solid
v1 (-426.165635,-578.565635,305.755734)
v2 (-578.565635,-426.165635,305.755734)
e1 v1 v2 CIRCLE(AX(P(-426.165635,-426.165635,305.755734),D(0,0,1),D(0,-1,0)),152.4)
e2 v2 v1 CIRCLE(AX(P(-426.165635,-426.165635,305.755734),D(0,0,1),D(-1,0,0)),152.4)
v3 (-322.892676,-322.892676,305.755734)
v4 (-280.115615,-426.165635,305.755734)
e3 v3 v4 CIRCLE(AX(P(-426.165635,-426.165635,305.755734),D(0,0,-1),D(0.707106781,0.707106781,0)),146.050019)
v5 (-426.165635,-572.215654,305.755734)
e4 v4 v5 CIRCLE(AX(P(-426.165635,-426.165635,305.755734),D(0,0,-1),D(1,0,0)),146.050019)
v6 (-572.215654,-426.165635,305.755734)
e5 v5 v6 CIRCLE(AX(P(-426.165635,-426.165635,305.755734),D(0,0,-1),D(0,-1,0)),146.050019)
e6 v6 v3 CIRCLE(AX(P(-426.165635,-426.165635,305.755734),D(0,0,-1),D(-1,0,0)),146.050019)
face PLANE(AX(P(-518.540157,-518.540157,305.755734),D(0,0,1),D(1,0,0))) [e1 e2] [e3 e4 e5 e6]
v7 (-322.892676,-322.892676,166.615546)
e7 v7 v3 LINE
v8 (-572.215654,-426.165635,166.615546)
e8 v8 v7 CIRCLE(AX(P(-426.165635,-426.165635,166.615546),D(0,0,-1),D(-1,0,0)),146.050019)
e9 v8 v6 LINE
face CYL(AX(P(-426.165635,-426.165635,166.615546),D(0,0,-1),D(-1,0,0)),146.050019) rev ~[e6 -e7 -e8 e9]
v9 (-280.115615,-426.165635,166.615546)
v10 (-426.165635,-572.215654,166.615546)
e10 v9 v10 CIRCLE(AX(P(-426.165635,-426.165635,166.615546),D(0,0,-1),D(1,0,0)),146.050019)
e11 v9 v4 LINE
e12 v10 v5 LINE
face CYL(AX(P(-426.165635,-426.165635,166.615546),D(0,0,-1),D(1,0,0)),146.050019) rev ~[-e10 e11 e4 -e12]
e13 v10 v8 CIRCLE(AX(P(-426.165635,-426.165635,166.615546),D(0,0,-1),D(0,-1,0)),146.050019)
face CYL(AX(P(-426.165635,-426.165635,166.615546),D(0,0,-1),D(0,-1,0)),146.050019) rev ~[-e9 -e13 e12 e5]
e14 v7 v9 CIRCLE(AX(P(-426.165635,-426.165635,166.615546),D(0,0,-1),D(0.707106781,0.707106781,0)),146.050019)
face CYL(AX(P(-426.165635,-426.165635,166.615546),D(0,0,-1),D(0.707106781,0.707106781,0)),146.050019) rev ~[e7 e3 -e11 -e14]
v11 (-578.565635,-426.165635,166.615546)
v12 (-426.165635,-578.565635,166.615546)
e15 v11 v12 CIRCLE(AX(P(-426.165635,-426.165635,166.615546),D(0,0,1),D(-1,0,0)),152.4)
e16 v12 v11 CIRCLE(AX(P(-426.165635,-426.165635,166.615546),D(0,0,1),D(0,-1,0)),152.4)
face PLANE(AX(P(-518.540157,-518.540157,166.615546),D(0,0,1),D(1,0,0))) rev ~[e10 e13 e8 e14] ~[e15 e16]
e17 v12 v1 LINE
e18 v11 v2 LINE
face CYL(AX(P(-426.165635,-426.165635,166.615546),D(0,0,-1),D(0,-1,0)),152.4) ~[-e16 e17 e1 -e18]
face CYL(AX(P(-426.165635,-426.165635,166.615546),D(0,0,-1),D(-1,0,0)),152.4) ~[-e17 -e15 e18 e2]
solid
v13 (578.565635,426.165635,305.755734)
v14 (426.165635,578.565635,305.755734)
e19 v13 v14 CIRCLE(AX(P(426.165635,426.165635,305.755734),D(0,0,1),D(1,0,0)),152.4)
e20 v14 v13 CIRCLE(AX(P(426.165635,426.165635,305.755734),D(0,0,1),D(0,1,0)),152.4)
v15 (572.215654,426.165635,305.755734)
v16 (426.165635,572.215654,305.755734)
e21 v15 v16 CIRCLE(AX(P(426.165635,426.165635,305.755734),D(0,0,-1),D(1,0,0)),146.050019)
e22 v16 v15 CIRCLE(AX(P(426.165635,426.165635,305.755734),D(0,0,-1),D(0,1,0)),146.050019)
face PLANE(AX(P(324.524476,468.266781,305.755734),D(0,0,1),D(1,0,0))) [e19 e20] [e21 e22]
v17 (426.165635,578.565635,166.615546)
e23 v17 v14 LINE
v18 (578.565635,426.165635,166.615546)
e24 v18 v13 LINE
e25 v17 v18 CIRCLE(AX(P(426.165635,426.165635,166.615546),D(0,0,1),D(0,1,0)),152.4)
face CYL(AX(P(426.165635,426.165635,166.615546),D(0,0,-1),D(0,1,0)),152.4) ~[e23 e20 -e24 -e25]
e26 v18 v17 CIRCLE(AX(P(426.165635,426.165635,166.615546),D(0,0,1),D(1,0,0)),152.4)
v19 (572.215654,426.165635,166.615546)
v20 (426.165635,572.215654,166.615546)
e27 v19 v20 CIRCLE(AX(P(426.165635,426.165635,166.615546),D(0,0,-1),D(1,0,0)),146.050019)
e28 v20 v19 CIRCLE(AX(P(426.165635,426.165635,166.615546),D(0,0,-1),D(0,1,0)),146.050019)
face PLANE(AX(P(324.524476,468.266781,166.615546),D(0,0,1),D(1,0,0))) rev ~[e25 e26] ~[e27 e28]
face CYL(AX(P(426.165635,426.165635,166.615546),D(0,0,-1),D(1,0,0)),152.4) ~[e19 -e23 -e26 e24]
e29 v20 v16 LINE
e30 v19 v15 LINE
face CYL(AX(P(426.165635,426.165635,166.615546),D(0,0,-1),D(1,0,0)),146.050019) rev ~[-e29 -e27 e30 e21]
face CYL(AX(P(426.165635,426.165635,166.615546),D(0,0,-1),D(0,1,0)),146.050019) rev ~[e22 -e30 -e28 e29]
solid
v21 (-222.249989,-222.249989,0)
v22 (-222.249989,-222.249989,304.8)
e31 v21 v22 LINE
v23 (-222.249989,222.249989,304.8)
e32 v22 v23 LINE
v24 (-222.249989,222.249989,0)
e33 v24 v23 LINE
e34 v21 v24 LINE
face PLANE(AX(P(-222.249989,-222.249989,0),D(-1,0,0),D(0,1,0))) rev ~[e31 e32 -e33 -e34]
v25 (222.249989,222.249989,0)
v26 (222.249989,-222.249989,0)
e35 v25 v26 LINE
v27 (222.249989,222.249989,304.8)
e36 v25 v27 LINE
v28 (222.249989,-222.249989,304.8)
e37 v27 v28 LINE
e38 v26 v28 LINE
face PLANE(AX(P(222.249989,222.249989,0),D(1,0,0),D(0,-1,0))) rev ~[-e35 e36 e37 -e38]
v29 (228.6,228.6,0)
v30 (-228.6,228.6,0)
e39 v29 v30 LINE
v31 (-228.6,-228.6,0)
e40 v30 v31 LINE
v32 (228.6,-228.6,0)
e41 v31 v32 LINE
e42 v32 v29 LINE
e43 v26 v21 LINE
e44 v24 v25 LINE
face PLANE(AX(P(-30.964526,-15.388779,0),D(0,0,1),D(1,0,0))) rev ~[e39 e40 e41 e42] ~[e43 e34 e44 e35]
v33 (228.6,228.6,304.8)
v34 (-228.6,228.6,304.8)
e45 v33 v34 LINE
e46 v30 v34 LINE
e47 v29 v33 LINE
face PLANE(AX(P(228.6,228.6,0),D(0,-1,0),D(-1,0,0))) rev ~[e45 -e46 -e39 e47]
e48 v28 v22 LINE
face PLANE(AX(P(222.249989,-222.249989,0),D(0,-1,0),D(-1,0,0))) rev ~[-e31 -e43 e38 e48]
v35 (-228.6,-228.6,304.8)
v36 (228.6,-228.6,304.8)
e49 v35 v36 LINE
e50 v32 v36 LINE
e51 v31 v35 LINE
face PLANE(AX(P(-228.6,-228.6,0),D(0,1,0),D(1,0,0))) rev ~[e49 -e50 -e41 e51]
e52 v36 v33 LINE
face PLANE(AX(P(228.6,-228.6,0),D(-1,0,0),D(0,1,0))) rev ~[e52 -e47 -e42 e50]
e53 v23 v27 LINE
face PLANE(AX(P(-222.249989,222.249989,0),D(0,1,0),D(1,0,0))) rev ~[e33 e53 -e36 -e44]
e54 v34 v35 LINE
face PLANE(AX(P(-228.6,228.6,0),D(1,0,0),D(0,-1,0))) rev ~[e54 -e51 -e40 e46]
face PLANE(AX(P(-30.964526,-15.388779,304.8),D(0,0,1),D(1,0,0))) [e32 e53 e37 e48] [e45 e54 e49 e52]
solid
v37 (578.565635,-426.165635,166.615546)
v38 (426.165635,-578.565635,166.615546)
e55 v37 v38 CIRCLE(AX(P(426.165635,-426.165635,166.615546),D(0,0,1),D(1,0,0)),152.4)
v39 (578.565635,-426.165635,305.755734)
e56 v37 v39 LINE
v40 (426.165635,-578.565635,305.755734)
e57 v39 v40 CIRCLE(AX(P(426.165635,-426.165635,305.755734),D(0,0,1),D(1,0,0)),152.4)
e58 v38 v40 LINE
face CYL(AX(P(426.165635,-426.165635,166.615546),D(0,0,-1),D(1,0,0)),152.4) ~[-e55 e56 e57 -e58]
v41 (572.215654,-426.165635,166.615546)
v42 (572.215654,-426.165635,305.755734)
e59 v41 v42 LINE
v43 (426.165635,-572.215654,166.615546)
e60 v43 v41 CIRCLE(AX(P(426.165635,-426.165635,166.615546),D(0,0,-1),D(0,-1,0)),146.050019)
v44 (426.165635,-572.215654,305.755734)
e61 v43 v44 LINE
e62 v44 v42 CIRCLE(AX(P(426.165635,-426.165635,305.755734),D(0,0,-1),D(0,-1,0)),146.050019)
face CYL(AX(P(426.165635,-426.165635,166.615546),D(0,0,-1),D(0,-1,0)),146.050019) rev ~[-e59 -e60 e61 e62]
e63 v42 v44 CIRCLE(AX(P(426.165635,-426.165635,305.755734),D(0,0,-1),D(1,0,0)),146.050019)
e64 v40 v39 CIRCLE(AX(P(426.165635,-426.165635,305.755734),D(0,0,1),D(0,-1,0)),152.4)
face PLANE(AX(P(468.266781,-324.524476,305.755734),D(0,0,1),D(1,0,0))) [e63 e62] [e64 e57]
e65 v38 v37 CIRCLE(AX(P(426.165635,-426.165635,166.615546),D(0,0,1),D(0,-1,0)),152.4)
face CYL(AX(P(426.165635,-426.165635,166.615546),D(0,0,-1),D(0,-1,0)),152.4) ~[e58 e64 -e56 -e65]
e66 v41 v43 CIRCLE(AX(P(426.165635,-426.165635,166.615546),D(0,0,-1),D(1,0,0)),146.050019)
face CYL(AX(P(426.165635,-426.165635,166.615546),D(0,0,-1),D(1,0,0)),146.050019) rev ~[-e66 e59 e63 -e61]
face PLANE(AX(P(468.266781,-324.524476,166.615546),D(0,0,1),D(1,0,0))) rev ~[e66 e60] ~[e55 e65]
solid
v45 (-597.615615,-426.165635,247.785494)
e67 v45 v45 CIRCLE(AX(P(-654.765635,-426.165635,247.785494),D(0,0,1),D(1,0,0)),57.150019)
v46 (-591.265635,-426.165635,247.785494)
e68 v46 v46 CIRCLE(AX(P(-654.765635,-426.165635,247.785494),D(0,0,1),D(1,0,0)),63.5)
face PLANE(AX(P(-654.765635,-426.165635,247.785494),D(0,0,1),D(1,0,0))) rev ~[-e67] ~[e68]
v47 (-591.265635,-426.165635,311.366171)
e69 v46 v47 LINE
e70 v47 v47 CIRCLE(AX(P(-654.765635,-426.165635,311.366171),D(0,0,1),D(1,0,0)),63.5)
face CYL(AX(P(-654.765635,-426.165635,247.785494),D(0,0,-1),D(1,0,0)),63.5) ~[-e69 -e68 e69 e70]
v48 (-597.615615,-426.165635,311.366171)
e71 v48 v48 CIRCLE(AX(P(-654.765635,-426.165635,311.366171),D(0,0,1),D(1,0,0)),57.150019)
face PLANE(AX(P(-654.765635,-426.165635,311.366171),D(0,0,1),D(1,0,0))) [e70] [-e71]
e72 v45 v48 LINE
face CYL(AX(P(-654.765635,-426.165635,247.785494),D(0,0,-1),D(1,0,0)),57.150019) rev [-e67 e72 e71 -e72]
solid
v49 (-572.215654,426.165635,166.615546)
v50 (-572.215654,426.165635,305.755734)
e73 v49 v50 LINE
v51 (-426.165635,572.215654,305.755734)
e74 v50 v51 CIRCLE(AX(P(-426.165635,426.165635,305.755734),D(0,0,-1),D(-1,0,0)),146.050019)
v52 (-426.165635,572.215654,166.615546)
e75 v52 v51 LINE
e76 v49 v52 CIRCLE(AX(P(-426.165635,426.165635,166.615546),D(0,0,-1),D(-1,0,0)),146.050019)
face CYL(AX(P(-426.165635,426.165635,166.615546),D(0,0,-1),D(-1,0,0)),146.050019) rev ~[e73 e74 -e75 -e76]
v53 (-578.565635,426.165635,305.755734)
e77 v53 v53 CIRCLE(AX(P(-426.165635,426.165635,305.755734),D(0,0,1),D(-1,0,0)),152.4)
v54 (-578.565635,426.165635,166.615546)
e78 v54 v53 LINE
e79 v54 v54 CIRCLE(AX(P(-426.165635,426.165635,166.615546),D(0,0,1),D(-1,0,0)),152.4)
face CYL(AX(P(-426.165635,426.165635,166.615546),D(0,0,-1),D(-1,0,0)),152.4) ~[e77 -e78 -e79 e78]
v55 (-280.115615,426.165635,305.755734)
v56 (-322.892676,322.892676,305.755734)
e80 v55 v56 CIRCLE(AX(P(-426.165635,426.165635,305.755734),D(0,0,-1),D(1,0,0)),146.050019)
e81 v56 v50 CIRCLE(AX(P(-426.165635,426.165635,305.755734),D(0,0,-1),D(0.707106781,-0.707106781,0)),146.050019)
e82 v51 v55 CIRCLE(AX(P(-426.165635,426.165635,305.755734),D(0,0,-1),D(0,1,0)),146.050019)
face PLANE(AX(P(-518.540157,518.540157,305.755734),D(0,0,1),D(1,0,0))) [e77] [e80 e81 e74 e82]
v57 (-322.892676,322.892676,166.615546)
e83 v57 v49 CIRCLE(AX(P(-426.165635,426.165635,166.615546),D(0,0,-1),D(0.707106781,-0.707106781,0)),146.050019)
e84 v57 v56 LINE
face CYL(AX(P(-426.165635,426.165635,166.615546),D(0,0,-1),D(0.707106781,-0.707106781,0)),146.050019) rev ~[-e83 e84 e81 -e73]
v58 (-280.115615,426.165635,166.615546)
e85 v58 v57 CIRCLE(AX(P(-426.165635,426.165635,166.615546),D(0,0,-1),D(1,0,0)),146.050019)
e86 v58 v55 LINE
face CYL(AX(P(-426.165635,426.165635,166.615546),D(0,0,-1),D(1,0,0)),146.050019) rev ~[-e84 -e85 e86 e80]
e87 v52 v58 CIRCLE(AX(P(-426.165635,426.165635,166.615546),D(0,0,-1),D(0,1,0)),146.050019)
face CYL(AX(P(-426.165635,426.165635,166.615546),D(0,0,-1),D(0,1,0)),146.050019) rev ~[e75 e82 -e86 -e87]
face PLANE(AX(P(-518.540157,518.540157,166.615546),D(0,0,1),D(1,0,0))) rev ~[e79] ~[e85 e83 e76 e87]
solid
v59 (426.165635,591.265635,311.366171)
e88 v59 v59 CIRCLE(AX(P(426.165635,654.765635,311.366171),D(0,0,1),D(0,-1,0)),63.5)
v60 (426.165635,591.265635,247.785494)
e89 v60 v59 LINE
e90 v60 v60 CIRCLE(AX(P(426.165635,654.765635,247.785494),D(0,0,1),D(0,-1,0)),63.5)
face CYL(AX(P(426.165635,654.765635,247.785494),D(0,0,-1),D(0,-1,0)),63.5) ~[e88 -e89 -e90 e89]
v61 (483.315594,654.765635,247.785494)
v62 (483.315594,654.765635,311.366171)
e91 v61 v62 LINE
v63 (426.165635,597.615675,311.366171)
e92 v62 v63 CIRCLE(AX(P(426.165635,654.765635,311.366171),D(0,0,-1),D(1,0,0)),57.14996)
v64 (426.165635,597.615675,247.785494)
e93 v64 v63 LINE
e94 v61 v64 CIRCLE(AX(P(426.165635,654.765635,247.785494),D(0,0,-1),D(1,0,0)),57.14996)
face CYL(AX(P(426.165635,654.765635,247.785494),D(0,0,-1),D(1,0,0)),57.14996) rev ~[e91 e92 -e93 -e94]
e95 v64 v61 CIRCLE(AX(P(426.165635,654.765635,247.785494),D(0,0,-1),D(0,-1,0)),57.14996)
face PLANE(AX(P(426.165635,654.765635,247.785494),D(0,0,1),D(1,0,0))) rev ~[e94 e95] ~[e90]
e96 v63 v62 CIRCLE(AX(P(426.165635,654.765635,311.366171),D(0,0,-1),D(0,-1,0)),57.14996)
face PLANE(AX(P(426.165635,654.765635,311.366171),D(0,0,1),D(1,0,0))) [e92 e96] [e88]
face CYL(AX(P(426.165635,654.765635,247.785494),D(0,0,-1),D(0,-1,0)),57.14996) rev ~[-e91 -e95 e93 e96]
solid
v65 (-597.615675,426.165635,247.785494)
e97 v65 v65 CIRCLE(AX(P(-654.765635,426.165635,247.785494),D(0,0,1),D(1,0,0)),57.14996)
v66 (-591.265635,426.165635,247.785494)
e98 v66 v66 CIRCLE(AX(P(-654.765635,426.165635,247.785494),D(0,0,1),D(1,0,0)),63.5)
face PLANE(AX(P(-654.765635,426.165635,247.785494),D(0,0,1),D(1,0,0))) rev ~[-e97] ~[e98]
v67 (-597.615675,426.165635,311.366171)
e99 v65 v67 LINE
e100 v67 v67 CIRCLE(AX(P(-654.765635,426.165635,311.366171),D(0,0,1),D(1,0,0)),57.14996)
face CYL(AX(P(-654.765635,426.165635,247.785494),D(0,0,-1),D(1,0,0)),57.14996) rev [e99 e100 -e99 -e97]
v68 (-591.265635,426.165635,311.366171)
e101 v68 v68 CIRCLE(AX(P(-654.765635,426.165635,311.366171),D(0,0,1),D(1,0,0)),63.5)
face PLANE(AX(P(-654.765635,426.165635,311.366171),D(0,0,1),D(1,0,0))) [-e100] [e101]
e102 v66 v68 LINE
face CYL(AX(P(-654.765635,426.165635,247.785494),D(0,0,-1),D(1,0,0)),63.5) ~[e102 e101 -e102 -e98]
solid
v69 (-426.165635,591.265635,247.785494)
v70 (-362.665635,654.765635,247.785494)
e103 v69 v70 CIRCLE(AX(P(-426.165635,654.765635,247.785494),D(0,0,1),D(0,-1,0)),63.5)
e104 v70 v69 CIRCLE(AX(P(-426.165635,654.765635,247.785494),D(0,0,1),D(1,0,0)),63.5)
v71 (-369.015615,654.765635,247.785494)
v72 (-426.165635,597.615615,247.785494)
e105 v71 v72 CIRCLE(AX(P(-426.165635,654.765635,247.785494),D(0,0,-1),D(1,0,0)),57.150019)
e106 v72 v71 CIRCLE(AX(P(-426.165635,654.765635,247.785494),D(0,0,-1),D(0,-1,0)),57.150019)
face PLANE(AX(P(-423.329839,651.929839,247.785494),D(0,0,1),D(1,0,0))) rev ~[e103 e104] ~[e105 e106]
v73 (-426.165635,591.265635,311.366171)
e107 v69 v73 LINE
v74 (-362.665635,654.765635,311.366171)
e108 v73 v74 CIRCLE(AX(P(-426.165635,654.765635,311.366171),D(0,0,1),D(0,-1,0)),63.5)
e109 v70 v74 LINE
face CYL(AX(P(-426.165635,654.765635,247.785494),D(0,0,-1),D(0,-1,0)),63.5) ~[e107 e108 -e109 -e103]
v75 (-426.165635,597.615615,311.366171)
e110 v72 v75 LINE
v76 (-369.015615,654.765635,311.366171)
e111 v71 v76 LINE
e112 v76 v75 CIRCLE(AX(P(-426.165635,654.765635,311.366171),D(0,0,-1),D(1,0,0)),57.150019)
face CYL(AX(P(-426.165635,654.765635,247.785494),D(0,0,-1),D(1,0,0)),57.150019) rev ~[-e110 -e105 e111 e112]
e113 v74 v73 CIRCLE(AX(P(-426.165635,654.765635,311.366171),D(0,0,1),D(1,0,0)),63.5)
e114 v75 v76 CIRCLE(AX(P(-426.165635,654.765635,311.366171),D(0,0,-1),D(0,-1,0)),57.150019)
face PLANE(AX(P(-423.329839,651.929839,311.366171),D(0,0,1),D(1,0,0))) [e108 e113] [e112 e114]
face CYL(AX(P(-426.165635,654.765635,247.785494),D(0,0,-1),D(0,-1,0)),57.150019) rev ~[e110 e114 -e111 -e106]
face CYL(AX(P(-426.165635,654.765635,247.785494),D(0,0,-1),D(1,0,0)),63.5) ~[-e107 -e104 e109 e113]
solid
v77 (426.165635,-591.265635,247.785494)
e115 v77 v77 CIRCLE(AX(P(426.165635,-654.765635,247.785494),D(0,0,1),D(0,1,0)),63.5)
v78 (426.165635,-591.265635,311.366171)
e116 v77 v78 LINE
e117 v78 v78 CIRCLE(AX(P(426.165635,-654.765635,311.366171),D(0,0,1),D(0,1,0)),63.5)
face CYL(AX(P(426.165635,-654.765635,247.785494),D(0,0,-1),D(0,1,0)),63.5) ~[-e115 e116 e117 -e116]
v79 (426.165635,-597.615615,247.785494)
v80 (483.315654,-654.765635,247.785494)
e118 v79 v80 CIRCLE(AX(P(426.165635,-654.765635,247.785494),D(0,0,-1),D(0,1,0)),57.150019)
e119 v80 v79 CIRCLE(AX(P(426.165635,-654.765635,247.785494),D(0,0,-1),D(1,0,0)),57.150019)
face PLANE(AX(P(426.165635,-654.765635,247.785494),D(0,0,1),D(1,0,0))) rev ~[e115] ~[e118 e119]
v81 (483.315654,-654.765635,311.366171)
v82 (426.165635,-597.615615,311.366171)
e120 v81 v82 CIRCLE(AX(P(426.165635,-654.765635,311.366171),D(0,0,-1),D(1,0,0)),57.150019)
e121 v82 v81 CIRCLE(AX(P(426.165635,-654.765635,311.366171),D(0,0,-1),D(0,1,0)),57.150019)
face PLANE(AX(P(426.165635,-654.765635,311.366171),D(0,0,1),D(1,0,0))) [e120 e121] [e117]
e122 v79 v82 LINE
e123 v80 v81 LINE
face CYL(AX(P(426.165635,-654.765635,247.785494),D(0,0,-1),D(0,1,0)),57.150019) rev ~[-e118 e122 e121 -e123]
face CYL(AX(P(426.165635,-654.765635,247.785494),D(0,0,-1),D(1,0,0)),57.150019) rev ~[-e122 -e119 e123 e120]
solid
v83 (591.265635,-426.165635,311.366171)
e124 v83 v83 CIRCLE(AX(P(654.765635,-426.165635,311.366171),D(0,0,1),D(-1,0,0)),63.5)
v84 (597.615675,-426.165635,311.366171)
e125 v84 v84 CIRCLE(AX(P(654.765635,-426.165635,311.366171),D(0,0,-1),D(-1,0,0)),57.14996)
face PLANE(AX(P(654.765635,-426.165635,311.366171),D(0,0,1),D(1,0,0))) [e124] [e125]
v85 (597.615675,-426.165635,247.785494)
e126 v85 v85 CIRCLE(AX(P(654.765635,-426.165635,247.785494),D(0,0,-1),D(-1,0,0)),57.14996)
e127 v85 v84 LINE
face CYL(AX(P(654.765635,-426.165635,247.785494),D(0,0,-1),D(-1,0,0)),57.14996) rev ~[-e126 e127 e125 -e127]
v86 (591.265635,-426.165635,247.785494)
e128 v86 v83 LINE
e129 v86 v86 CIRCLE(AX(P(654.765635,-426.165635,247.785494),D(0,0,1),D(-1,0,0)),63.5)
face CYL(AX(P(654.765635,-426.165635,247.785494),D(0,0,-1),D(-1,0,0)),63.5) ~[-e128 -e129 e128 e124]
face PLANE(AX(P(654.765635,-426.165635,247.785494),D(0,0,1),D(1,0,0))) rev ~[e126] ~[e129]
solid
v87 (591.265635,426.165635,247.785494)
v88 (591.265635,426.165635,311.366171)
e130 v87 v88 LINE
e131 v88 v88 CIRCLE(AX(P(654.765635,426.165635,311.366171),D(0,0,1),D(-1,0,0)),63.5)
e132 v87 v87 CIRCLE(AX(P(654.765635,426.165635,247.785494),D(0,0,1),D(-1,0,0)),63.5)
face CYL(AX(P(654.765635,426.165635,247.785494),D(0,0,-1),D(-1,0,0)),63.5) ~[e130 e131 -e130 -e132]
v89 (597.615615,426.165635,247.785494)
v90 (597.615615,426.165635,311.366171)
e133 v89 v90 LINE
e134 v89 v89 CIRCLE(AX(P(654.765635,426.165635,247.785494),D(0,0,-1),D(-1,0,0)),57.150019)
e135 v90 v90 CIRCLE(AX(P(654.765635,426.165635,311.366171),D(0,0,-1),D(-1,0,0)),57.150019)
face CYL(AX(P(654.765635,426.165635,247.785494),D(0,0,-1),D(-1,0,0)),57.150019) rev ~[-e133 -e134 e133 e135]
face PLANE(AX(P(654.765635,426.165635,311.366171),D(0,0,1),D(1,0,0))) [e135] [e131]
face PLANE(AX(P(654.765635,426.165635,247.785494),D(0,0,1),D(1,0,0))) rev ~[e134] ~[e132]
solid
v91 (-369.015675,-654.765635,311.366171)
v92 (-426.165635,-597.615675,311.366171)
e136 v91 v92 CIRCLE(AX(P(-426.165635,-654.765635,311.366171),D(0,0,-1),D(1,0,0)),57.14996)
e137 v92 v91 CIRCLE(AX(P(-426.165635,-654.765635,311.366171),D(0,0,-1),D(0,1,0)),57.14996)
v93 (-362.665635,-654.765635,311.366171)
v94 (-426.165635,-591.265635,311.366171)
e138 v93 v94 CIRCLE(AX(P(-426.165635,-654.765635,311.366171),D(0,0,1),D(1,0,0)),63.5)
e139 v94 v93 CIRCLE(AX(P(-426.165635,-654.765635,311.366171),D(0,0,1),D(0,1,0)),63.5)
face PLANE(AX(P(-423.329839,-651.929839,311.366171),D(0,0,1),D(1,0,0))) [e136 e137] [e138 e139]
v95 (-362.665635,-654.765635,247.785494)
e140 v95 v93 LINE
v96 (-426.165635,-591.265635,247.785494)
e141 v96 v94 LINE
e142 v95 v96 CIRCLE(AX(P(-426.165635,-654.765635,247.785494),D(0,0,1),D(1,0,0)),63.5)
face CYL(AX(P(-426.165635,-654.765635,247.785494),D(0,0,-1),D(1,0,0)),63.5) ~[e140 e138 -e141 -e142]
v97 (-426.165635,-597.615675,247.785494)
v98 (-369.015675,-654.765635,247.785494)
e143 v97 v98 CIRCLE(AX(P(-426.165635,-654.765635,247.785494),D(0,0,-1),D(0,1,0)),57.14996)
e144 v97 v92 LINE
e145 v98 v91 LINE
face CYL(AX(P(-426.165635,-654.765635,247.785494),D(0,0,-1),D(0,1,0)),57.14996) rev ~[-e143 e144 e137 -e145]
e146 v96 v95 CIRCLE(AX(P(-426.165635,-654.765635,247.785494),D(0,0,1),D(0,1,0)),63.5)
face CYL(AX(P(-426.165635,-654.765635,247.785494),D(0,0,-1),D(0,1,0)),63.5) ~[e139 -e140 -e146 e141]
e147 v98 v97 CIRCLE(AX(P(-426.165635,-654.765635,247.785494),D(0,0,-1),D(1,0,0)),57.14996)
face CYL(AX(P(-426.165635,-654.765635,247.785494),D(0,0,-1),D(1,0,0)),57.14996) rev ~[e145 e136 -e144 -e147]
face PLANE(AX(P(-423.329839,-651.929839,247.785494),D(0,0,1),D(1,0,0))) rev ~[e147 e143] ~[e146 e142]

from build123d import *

# Parameters (mm, degrees)
F1_DEPTH = 304.8
F2_START = 166.6155457497
F2_DEPTH = 139.140188694
F3_START = 247.7854937315
F3_DEPTH = 63.5806769133
F0_R     = 63.5
F0_R_2   = 57.1499595642
F0_R_3   = 57.1500191689


with BuildPart() as f1:
    # F0 (on Top) → F1 (new body)
    with BuildSketch(Plane.XY):
        Polygon((228.6, 0), (222.2499893665, 0), (222.2499893665, -222.2499893665), (-222.2499893665, -222.2499893665), (-222.2499893665, 222.2499893665), (222.2499893665, 222.2499893665), (228.6, 228.6), (-228.6, 228.6), (-228.6, -228.6), (228.6, -228.6), align=None)
        Polygon((222.2499893665, 222.2499893665), (222.2499893665, 0), (228.6, 0), (228.6, 228.6), align=None)
    extrude(amount=F1_DEPTH)


with BuildPart() as f2:
    # F0 (on Top) → F2 (new body)
    with BuildSketch(Plane.XY.offset(F2_START)):
        with BuildLine():
            ThreePointArc((-426.1656346635, 578.5656346635), (-533.9287081164, 533.9287081164), (-578.5656346635, 426.1656346635))
            Line((-578.5656346635, 426.1656346635), (-572.2156538324, 426.1656346635))
            ThreePointArc((-572.2156538324, 426.1656346635), (-529.4385936102, 529.4385936102), (-426.1656346635, 572.2156538324))
            Line((-426.1656346635, 572.2156538324), (-426.1656346635, 578.5656346635))
        make_face()
        with BuildLine():
            Line((-322.8926757168, 322.8926757168), (-318.4025612107, 318.4025612107))
            ThreePointArc((-318.4025612107, 318.4025612107), (-285.3663939088, 367.8446795711), (-273.7656346635, 426.1656346635))
            ThreePointArc((-273.7656346635, 426.1656346635), (-318.4025612107, 533.9287081164), (-426.1656346635, 578.5656346635))
            Line((-426.1656346635, 578.5656346635), (-426.1656346635, 572.2156538324))
            ThreePointArc((-426.1656346635, 572.2156538324), (-322.8926757168, 529.4385936102), (-280.1156154947, 426.1656346635))
            ThreePointArc((-280.1156154947, 426.1656346635), (-291.2330112305, 370.274712031), (-322.8926757168, 322.8926757168))
        make_face()
        with BuildLine():
            ThreePointArc((-578.5656346635, 426.1656346635), (-484.486589756, 285.3663939088), (-318.4025612107, 318.4025612107))
            Line((-318.4025612107, 318.4025612107), (-322.8926757168, 322.8926757168))
            ThreePointArc((-322.8926757168, 322.8926757168), (-482.056557296, 291.2330112305), (-572.2156538324, 426.1656346635))
            Line((-572.2156538324, 426.1656346635), (-578.5656346635, 426.1656346635))
        make_face()
    extrude(amount=F2_DEPTH)


with BuildPart() as f2b:
    # F0 (on Top) → F2, piece 2 (new body)
    with BuildSketch(Plane.XY.offset(F2_START)):
        with BuildLine():
            ThreePointArc((426.1656346635, 578.5656346635), (285.3663939088, 484.486589756), (318.4025612107, 318.4025612107))
            Line((318.4025612107, 318.4025612107), (322.8926757168, 322.8926757168))
            ThreePointArc((322.8926757168, 322.8926757168), (291.2330112305, 482.056557296), (426.1656346635, 572.2156538324))
            Line((426.1656346635, 572.2156538324), (426.1656346635, 578.5656346635))
        make_face()
        with BuildLine():
            ThreePointArc((578.5656346635, 426.1656346635), (533.9287081164, 533.9287081164), (426.1656346635, 578.5656346635))
            Line((426.1656346635, 578.5656346635), (426.1656346635, 572.2156538324))
            ThreePointArc((426.1656346635, 572.2156538324), (529.4385936102, 529.4385936102), (572.2156538324, 426.1656346635))
            Line((572.2156538324, 426.1656346635), (578.5656346635, 426.1656346635))
        make_face()
        with BuildLine():
            Line((322.8926757168, 322.8926757168), (318.4025612107, 318.4025612107))
            ThreePointArc((318.4025612107, 318.4025612107), (484.486589756, 285.3663939088), (578.5656346635, 426.1656346635))
            Line((578.5656346635, 426.1656346635), (572.2156538324, 426.1656346635))
            ThreePointArc((572.2156538324, 426.1656346635), (482.056557296, 291.2330112305), (322.8926757168, 322.8926757168))
        make_face()
    extrude(amount=F2_DEPTH)


with BuildPart() as f2c:
    # F0 (on Top) → F2, piece 3 (new body)
    with BuildSketch(Plane.XY.offset(F2_START)):
        with BuildLine():
            ThreePointArc((578.5656346635, -426.1656346635), (484.486589756, -285.3663939088), (318.4025612107, -318.4025612107))
            Line((318.4025612107, -318.4025612107), (322.8926757168, -322.8926757168))
            ThreePointArc((322.8926757168, -322.8926757168), (482.056557296, -291.2330112305), (572.2156538324, -426.1656346635))
            Line((572.2156538324, -426.1656346635), (578.5656346635, -426.1656346635))
        make_face()
        with BuildLine():
            ThreePointArc((426.1656346635, -578.5656346635), (533.9287081164, -533.9287081164), (578.5656346635, -426.1656346635))
            Line((578.5656346635, -426.1656346635), (572.2156538324, -426.1656346635))
            ThreePointArc((572.2156538324, -426.1656346635), (529.4385936102, -529.4385936102), (426.1656346635, -572.2156538324))
            Line((426.1656346635, -572.2156538324), (426.1656346635, -578.5656346635))
        make_face()
        with BuildLine():
            Line((322.8926757168, -322.8926757168), (318.4025612107, -318.4025612107))
            ThreePointArc((318.4025612107, -318.4025612107), (285.3663939088, -484.486589756), (426.1656346635, -578.5656346635))
            Line((426.1656346635, -578.5656346635), (426.1656346635, -572.2156538324))
            ThreePointArc((426.1656346635, -572.2156538324), (291.2330112305, -482.056557296), (322.8926757168, -322.8926757168))
        make_face()
    extrude(amount=F2_DEPTH)


with BuildPart() as f2d:
    # F0 (on Top) → F2, piece 4 (new body)
    with BuildSketch(Plane.XY.offset(F2_START)):
        with BuildLine():
            Line((-572.2156538324, -426.1656346635), (-578.5656346635, -426.1656346635))
            ThreePointArc((-578.5656346635, -426.1656346635), (-533.9287081164, -533.9287081164), (-426.1656346635, -578.5656346635))
            Line((-426.1656346635, -578.5656346635), (-426.1656346635, -572.2156538324))
            ThreePointArc((-426.1656346635, -572.2156538324), (-529.4385936102, -529.4385936102), (-572.2156538324, -426.1656346635))
        make_face()
        with BuildLine():
            Line((-322.8926757168, -322.8926757168), (-318.4025612107, -318.4025612107))
            ThreePointArc((-318.4025612107, -318.4025612107), (-484.486589756, -285.3663939088), (-578.5656346635, -426.1656346635))
            Line((-578.5656346635, -426.1656346635), (-572.2156538324, -426.1656346635))
            ThreePointArc((-572.2156538324, -426.1656346635), (-482.056557296, -291.2330112305), (-322.8926757168, -322.8926757168))
        make_face()
        with BuildLine():
            ThreePointArc((-273.7656346635, -426.1656346635), (-285.3663939088, -367.8446795711), (-318.4025612107, -318.4025612107))
            Line((-318.4025612107, -318.4025612107), (-322.8926757168, -322.8926757168))
            ThreePointArc((-322.8926757168, -322.8926757168), (-291.2330112305, -370.274712031), (-280.1156154947, -426.1656346635))
            ThreePointArc((-280.1156154947, -426.1656346635), (-322.8926757168, -529.4385936102), (-426.1656346635, -572.2156538324))
            Line((-426.1656346635, -572.2156538324), (-426.1656346635, -578.5656346635))
            ThreePointArc((-426.1656346635, -578.5656346635), (-318.4025612107, -533.9287081164), (-273.7656346635, -426.1656346635))
        make_face()
    extrude(amount=F2_DEPTH)


with BuildPart() as f3:
    # F0 (on Top) → F3 (new body)
    with BuildSketch(Plane.XY.offset(F3_START)):
        with BuildLine():
            ThreePointArc((-362.6656346635, 654.7656346635), (-471.0669152689, 699.6669152689), (-426.1656346635, 591.2656346635))
            ThreePointArc((-426.1656346635, 591.2656346635), (-381.2643540582, 609.8643540582), (-362.6656346635, 654.7656346635))
        make_face()
        with BuildLine():
            ThreePointArc((-369.0156154947, 654.7656346635), (-385.7544685643, 614.3544685643), (-426.1656346635, 597.6156154947))
            ThreePointArc((-426.1656346635, 597.6156154947), (-466.5768007628, 695.1768007628), (-369.0156154947, 654.7656346635))
        make_face(mode=Mode.SUBTRACT)
    extrude(amount=F3_DEPTH)


with BuildPart() as f3b:
    # F0 (on Top) → F3, piece 2 (new body)
    with BuildSketch(Plane.XY.offset(F3_START)):
        with Locations((-654.7656346635, 426.1656346635)):
            Circle(F0_R)
        with Locations((-654.7656346635, 426.1656346635)):
            Circle(F0_R_2, mode=Mode.SUBTRACT)
    extrude(amount=F3_DEPTH)


with BuildPart() as f3c:
    # F0 (on Top) → F3, piece 3 (new body)
    with BuildSketch(Plane.XY.offset(F3_START)):
        with BuildLine():
            ThreePointArc((489.6656346635, 654.7656346635), (381.2643540582, 699.6669152689), (426.1656346635, 591.2656346635))
            ThreePointArc((426.1656346635, 591.2656346635), (471.0669152689, 609.8643540582), (489.6656346635, 654.7656346635))
        make_face()
        with BuildLine():
            ThreePointArc((483.3155942277, 654.7656346635), (466.5767586159, 614.3545107111), (426.1656346635, 597.6156750993))
            ThreePointArc((426.1656346635, 597.6156750993), (385.7545107111, 695.1767586159), (483.3155942277, 654.7656346635))
        make_face(mode=Mode.SUBTRACT)
    extrude(amount=F3_DEPTH)


with BuildPart() as f3d:
    # F0 (on Top) → F3, piece 4 (new body)
    with BuildSketch(Plane.XY.offset(F3_START)):
        with BuildLine():
            ThreePointArc((718.2656346635, 426.1656346635), (654.7656346635, 489.6656346635), (591.2656346635, 426.1656346635))
            ThreePointArc((591.2656346635, 426.1656346635), (654.7656346635, 362.6656346635), (718.2656346635, 426.1656346635))
        make_face()
        with BuildLine():
            ThreePointArc((711.9156538324, 426.1656346635), (654.7656346635, 369.0156154947), (597.6156154947, 426.1656346635))
            ThreePointArc((597.6156154947, 426.1656346635), (654.7656346635, 483.3156538324), (711.9156538324, 426.1656346635))
        make_face(mode=Mode.SUBTRACT)
    extrude(amount=F3_DEPTH)


with BuildPart() as f3e:
    # F0 (on Top) → F3, piece 5 (new body)
    with BuildSketch(Plane.XY.offset(F3_START)):
        with BuildLine():
            ThreePointArc((718.2656346635, -426.1656346635), (654.7656346635, -362.6656346635), (591.2656346635, -426.1656346635))
            ThreePointArc((591.2656346635, -426.1656346635), (654.7656346635, -489.6656346635), (718.2656346635, -426.1656346635))
        make_face()
        with BuildLine():
            ThreePointArc((711.9155942277, -426.1656346635), (654.7656346635, -483.3155942277), (597.6156750993, -426.1656346635))
            ThreePointArc((597.6156750993, -426.1656346635), (654.7656346635, -369.0156750993), (711.9155942277, -426.1656346635))
        make_face(mode=Mode.SUBTRACT)
    extrude(amount=F3_DEPTH)


with BuildPart() as f3f:
    # F0 (on Top) → F3, piece 6 (new body)
    with BuildSketch(Plane.XY.offset(F3_START)):
        with BuildLine():
            ThreePointArc((489.6656346635, -654.7656346635), (471.0669152689, -609.8643540582), (426.1656346635, -591.2656346635))
            ThreePointArc((426.1656346635, -591.2656346635), (381.2643540582, -699.6669152689), (489.6656346635, -654.7656346635))
        make_face()
        with BuildLine():
            ThreePointArc((483.3156538324, -654.7656346635), (385.7544685643, -695.1768007628), (426.1656346635, -597.6156154947))
            ThreePointArc((426.1656346635, -597.6156154947), (466.5768007628, -614.3544685643), (483.3156538324, -654.7656346635))
        make_face(mode=Mode.SUBTRACT)
    extrude(amount=F3_DEPTH)


with BuildPart() as f3g:
    # F0 (on Top) → F3, piece 7 (new body)
    with BuildSketch(Plane.XY.offset(F3_START)):
        with BuildLine():
            ThreePointArc((-362.6656346635, -654.7656346635), (-381.2643540582, -609.8643540582), (-426.1656346635, -591.2656346635))
            ThreePointArc((-426.1656346635, -591.2656346635), (-471.0669152689, -699.6669152689), (-362.6656346635, -654.7656346635))
        make_face()
        with BuildLine():
            ThreePointArc((-369.0156750993, -654.7656346635), (-466.5767586159, -695.1767586159), (-426.1656346635, -597.6156750993))
            ThreePointArc((-426.1656346635, -597.6156750993), (-385.7545107111, -614.3545107111), (-369.0156750993, -654.7656346635))
        make_face(mode=Mode.SUBTRACT)
    extrude(amount=F3_DEPTH)


with BuildPart() as f3h:
    # F0 (on Top) → F3, piece 8 (new body)
    with BuildSketch(Plane.XY.offset(F3_START)):
        with Locations((-654.7656346635, -426.1656346635)):
            Circle(F0_R)
        with Locations((-654.7656346635, -426.1656346635)):
            Circle(F0_R_3, mode=Mode.SUBTRACT)
    extrude(amount=F3_DEPTH)


solid = Compound([f1.part, f2.part, f2b.part, f2c.part, f2d.part, f3.part, f3b.part, f3c.part, f3d.part, f3e.part, f3f.part, f3g.part, f3h.part])
